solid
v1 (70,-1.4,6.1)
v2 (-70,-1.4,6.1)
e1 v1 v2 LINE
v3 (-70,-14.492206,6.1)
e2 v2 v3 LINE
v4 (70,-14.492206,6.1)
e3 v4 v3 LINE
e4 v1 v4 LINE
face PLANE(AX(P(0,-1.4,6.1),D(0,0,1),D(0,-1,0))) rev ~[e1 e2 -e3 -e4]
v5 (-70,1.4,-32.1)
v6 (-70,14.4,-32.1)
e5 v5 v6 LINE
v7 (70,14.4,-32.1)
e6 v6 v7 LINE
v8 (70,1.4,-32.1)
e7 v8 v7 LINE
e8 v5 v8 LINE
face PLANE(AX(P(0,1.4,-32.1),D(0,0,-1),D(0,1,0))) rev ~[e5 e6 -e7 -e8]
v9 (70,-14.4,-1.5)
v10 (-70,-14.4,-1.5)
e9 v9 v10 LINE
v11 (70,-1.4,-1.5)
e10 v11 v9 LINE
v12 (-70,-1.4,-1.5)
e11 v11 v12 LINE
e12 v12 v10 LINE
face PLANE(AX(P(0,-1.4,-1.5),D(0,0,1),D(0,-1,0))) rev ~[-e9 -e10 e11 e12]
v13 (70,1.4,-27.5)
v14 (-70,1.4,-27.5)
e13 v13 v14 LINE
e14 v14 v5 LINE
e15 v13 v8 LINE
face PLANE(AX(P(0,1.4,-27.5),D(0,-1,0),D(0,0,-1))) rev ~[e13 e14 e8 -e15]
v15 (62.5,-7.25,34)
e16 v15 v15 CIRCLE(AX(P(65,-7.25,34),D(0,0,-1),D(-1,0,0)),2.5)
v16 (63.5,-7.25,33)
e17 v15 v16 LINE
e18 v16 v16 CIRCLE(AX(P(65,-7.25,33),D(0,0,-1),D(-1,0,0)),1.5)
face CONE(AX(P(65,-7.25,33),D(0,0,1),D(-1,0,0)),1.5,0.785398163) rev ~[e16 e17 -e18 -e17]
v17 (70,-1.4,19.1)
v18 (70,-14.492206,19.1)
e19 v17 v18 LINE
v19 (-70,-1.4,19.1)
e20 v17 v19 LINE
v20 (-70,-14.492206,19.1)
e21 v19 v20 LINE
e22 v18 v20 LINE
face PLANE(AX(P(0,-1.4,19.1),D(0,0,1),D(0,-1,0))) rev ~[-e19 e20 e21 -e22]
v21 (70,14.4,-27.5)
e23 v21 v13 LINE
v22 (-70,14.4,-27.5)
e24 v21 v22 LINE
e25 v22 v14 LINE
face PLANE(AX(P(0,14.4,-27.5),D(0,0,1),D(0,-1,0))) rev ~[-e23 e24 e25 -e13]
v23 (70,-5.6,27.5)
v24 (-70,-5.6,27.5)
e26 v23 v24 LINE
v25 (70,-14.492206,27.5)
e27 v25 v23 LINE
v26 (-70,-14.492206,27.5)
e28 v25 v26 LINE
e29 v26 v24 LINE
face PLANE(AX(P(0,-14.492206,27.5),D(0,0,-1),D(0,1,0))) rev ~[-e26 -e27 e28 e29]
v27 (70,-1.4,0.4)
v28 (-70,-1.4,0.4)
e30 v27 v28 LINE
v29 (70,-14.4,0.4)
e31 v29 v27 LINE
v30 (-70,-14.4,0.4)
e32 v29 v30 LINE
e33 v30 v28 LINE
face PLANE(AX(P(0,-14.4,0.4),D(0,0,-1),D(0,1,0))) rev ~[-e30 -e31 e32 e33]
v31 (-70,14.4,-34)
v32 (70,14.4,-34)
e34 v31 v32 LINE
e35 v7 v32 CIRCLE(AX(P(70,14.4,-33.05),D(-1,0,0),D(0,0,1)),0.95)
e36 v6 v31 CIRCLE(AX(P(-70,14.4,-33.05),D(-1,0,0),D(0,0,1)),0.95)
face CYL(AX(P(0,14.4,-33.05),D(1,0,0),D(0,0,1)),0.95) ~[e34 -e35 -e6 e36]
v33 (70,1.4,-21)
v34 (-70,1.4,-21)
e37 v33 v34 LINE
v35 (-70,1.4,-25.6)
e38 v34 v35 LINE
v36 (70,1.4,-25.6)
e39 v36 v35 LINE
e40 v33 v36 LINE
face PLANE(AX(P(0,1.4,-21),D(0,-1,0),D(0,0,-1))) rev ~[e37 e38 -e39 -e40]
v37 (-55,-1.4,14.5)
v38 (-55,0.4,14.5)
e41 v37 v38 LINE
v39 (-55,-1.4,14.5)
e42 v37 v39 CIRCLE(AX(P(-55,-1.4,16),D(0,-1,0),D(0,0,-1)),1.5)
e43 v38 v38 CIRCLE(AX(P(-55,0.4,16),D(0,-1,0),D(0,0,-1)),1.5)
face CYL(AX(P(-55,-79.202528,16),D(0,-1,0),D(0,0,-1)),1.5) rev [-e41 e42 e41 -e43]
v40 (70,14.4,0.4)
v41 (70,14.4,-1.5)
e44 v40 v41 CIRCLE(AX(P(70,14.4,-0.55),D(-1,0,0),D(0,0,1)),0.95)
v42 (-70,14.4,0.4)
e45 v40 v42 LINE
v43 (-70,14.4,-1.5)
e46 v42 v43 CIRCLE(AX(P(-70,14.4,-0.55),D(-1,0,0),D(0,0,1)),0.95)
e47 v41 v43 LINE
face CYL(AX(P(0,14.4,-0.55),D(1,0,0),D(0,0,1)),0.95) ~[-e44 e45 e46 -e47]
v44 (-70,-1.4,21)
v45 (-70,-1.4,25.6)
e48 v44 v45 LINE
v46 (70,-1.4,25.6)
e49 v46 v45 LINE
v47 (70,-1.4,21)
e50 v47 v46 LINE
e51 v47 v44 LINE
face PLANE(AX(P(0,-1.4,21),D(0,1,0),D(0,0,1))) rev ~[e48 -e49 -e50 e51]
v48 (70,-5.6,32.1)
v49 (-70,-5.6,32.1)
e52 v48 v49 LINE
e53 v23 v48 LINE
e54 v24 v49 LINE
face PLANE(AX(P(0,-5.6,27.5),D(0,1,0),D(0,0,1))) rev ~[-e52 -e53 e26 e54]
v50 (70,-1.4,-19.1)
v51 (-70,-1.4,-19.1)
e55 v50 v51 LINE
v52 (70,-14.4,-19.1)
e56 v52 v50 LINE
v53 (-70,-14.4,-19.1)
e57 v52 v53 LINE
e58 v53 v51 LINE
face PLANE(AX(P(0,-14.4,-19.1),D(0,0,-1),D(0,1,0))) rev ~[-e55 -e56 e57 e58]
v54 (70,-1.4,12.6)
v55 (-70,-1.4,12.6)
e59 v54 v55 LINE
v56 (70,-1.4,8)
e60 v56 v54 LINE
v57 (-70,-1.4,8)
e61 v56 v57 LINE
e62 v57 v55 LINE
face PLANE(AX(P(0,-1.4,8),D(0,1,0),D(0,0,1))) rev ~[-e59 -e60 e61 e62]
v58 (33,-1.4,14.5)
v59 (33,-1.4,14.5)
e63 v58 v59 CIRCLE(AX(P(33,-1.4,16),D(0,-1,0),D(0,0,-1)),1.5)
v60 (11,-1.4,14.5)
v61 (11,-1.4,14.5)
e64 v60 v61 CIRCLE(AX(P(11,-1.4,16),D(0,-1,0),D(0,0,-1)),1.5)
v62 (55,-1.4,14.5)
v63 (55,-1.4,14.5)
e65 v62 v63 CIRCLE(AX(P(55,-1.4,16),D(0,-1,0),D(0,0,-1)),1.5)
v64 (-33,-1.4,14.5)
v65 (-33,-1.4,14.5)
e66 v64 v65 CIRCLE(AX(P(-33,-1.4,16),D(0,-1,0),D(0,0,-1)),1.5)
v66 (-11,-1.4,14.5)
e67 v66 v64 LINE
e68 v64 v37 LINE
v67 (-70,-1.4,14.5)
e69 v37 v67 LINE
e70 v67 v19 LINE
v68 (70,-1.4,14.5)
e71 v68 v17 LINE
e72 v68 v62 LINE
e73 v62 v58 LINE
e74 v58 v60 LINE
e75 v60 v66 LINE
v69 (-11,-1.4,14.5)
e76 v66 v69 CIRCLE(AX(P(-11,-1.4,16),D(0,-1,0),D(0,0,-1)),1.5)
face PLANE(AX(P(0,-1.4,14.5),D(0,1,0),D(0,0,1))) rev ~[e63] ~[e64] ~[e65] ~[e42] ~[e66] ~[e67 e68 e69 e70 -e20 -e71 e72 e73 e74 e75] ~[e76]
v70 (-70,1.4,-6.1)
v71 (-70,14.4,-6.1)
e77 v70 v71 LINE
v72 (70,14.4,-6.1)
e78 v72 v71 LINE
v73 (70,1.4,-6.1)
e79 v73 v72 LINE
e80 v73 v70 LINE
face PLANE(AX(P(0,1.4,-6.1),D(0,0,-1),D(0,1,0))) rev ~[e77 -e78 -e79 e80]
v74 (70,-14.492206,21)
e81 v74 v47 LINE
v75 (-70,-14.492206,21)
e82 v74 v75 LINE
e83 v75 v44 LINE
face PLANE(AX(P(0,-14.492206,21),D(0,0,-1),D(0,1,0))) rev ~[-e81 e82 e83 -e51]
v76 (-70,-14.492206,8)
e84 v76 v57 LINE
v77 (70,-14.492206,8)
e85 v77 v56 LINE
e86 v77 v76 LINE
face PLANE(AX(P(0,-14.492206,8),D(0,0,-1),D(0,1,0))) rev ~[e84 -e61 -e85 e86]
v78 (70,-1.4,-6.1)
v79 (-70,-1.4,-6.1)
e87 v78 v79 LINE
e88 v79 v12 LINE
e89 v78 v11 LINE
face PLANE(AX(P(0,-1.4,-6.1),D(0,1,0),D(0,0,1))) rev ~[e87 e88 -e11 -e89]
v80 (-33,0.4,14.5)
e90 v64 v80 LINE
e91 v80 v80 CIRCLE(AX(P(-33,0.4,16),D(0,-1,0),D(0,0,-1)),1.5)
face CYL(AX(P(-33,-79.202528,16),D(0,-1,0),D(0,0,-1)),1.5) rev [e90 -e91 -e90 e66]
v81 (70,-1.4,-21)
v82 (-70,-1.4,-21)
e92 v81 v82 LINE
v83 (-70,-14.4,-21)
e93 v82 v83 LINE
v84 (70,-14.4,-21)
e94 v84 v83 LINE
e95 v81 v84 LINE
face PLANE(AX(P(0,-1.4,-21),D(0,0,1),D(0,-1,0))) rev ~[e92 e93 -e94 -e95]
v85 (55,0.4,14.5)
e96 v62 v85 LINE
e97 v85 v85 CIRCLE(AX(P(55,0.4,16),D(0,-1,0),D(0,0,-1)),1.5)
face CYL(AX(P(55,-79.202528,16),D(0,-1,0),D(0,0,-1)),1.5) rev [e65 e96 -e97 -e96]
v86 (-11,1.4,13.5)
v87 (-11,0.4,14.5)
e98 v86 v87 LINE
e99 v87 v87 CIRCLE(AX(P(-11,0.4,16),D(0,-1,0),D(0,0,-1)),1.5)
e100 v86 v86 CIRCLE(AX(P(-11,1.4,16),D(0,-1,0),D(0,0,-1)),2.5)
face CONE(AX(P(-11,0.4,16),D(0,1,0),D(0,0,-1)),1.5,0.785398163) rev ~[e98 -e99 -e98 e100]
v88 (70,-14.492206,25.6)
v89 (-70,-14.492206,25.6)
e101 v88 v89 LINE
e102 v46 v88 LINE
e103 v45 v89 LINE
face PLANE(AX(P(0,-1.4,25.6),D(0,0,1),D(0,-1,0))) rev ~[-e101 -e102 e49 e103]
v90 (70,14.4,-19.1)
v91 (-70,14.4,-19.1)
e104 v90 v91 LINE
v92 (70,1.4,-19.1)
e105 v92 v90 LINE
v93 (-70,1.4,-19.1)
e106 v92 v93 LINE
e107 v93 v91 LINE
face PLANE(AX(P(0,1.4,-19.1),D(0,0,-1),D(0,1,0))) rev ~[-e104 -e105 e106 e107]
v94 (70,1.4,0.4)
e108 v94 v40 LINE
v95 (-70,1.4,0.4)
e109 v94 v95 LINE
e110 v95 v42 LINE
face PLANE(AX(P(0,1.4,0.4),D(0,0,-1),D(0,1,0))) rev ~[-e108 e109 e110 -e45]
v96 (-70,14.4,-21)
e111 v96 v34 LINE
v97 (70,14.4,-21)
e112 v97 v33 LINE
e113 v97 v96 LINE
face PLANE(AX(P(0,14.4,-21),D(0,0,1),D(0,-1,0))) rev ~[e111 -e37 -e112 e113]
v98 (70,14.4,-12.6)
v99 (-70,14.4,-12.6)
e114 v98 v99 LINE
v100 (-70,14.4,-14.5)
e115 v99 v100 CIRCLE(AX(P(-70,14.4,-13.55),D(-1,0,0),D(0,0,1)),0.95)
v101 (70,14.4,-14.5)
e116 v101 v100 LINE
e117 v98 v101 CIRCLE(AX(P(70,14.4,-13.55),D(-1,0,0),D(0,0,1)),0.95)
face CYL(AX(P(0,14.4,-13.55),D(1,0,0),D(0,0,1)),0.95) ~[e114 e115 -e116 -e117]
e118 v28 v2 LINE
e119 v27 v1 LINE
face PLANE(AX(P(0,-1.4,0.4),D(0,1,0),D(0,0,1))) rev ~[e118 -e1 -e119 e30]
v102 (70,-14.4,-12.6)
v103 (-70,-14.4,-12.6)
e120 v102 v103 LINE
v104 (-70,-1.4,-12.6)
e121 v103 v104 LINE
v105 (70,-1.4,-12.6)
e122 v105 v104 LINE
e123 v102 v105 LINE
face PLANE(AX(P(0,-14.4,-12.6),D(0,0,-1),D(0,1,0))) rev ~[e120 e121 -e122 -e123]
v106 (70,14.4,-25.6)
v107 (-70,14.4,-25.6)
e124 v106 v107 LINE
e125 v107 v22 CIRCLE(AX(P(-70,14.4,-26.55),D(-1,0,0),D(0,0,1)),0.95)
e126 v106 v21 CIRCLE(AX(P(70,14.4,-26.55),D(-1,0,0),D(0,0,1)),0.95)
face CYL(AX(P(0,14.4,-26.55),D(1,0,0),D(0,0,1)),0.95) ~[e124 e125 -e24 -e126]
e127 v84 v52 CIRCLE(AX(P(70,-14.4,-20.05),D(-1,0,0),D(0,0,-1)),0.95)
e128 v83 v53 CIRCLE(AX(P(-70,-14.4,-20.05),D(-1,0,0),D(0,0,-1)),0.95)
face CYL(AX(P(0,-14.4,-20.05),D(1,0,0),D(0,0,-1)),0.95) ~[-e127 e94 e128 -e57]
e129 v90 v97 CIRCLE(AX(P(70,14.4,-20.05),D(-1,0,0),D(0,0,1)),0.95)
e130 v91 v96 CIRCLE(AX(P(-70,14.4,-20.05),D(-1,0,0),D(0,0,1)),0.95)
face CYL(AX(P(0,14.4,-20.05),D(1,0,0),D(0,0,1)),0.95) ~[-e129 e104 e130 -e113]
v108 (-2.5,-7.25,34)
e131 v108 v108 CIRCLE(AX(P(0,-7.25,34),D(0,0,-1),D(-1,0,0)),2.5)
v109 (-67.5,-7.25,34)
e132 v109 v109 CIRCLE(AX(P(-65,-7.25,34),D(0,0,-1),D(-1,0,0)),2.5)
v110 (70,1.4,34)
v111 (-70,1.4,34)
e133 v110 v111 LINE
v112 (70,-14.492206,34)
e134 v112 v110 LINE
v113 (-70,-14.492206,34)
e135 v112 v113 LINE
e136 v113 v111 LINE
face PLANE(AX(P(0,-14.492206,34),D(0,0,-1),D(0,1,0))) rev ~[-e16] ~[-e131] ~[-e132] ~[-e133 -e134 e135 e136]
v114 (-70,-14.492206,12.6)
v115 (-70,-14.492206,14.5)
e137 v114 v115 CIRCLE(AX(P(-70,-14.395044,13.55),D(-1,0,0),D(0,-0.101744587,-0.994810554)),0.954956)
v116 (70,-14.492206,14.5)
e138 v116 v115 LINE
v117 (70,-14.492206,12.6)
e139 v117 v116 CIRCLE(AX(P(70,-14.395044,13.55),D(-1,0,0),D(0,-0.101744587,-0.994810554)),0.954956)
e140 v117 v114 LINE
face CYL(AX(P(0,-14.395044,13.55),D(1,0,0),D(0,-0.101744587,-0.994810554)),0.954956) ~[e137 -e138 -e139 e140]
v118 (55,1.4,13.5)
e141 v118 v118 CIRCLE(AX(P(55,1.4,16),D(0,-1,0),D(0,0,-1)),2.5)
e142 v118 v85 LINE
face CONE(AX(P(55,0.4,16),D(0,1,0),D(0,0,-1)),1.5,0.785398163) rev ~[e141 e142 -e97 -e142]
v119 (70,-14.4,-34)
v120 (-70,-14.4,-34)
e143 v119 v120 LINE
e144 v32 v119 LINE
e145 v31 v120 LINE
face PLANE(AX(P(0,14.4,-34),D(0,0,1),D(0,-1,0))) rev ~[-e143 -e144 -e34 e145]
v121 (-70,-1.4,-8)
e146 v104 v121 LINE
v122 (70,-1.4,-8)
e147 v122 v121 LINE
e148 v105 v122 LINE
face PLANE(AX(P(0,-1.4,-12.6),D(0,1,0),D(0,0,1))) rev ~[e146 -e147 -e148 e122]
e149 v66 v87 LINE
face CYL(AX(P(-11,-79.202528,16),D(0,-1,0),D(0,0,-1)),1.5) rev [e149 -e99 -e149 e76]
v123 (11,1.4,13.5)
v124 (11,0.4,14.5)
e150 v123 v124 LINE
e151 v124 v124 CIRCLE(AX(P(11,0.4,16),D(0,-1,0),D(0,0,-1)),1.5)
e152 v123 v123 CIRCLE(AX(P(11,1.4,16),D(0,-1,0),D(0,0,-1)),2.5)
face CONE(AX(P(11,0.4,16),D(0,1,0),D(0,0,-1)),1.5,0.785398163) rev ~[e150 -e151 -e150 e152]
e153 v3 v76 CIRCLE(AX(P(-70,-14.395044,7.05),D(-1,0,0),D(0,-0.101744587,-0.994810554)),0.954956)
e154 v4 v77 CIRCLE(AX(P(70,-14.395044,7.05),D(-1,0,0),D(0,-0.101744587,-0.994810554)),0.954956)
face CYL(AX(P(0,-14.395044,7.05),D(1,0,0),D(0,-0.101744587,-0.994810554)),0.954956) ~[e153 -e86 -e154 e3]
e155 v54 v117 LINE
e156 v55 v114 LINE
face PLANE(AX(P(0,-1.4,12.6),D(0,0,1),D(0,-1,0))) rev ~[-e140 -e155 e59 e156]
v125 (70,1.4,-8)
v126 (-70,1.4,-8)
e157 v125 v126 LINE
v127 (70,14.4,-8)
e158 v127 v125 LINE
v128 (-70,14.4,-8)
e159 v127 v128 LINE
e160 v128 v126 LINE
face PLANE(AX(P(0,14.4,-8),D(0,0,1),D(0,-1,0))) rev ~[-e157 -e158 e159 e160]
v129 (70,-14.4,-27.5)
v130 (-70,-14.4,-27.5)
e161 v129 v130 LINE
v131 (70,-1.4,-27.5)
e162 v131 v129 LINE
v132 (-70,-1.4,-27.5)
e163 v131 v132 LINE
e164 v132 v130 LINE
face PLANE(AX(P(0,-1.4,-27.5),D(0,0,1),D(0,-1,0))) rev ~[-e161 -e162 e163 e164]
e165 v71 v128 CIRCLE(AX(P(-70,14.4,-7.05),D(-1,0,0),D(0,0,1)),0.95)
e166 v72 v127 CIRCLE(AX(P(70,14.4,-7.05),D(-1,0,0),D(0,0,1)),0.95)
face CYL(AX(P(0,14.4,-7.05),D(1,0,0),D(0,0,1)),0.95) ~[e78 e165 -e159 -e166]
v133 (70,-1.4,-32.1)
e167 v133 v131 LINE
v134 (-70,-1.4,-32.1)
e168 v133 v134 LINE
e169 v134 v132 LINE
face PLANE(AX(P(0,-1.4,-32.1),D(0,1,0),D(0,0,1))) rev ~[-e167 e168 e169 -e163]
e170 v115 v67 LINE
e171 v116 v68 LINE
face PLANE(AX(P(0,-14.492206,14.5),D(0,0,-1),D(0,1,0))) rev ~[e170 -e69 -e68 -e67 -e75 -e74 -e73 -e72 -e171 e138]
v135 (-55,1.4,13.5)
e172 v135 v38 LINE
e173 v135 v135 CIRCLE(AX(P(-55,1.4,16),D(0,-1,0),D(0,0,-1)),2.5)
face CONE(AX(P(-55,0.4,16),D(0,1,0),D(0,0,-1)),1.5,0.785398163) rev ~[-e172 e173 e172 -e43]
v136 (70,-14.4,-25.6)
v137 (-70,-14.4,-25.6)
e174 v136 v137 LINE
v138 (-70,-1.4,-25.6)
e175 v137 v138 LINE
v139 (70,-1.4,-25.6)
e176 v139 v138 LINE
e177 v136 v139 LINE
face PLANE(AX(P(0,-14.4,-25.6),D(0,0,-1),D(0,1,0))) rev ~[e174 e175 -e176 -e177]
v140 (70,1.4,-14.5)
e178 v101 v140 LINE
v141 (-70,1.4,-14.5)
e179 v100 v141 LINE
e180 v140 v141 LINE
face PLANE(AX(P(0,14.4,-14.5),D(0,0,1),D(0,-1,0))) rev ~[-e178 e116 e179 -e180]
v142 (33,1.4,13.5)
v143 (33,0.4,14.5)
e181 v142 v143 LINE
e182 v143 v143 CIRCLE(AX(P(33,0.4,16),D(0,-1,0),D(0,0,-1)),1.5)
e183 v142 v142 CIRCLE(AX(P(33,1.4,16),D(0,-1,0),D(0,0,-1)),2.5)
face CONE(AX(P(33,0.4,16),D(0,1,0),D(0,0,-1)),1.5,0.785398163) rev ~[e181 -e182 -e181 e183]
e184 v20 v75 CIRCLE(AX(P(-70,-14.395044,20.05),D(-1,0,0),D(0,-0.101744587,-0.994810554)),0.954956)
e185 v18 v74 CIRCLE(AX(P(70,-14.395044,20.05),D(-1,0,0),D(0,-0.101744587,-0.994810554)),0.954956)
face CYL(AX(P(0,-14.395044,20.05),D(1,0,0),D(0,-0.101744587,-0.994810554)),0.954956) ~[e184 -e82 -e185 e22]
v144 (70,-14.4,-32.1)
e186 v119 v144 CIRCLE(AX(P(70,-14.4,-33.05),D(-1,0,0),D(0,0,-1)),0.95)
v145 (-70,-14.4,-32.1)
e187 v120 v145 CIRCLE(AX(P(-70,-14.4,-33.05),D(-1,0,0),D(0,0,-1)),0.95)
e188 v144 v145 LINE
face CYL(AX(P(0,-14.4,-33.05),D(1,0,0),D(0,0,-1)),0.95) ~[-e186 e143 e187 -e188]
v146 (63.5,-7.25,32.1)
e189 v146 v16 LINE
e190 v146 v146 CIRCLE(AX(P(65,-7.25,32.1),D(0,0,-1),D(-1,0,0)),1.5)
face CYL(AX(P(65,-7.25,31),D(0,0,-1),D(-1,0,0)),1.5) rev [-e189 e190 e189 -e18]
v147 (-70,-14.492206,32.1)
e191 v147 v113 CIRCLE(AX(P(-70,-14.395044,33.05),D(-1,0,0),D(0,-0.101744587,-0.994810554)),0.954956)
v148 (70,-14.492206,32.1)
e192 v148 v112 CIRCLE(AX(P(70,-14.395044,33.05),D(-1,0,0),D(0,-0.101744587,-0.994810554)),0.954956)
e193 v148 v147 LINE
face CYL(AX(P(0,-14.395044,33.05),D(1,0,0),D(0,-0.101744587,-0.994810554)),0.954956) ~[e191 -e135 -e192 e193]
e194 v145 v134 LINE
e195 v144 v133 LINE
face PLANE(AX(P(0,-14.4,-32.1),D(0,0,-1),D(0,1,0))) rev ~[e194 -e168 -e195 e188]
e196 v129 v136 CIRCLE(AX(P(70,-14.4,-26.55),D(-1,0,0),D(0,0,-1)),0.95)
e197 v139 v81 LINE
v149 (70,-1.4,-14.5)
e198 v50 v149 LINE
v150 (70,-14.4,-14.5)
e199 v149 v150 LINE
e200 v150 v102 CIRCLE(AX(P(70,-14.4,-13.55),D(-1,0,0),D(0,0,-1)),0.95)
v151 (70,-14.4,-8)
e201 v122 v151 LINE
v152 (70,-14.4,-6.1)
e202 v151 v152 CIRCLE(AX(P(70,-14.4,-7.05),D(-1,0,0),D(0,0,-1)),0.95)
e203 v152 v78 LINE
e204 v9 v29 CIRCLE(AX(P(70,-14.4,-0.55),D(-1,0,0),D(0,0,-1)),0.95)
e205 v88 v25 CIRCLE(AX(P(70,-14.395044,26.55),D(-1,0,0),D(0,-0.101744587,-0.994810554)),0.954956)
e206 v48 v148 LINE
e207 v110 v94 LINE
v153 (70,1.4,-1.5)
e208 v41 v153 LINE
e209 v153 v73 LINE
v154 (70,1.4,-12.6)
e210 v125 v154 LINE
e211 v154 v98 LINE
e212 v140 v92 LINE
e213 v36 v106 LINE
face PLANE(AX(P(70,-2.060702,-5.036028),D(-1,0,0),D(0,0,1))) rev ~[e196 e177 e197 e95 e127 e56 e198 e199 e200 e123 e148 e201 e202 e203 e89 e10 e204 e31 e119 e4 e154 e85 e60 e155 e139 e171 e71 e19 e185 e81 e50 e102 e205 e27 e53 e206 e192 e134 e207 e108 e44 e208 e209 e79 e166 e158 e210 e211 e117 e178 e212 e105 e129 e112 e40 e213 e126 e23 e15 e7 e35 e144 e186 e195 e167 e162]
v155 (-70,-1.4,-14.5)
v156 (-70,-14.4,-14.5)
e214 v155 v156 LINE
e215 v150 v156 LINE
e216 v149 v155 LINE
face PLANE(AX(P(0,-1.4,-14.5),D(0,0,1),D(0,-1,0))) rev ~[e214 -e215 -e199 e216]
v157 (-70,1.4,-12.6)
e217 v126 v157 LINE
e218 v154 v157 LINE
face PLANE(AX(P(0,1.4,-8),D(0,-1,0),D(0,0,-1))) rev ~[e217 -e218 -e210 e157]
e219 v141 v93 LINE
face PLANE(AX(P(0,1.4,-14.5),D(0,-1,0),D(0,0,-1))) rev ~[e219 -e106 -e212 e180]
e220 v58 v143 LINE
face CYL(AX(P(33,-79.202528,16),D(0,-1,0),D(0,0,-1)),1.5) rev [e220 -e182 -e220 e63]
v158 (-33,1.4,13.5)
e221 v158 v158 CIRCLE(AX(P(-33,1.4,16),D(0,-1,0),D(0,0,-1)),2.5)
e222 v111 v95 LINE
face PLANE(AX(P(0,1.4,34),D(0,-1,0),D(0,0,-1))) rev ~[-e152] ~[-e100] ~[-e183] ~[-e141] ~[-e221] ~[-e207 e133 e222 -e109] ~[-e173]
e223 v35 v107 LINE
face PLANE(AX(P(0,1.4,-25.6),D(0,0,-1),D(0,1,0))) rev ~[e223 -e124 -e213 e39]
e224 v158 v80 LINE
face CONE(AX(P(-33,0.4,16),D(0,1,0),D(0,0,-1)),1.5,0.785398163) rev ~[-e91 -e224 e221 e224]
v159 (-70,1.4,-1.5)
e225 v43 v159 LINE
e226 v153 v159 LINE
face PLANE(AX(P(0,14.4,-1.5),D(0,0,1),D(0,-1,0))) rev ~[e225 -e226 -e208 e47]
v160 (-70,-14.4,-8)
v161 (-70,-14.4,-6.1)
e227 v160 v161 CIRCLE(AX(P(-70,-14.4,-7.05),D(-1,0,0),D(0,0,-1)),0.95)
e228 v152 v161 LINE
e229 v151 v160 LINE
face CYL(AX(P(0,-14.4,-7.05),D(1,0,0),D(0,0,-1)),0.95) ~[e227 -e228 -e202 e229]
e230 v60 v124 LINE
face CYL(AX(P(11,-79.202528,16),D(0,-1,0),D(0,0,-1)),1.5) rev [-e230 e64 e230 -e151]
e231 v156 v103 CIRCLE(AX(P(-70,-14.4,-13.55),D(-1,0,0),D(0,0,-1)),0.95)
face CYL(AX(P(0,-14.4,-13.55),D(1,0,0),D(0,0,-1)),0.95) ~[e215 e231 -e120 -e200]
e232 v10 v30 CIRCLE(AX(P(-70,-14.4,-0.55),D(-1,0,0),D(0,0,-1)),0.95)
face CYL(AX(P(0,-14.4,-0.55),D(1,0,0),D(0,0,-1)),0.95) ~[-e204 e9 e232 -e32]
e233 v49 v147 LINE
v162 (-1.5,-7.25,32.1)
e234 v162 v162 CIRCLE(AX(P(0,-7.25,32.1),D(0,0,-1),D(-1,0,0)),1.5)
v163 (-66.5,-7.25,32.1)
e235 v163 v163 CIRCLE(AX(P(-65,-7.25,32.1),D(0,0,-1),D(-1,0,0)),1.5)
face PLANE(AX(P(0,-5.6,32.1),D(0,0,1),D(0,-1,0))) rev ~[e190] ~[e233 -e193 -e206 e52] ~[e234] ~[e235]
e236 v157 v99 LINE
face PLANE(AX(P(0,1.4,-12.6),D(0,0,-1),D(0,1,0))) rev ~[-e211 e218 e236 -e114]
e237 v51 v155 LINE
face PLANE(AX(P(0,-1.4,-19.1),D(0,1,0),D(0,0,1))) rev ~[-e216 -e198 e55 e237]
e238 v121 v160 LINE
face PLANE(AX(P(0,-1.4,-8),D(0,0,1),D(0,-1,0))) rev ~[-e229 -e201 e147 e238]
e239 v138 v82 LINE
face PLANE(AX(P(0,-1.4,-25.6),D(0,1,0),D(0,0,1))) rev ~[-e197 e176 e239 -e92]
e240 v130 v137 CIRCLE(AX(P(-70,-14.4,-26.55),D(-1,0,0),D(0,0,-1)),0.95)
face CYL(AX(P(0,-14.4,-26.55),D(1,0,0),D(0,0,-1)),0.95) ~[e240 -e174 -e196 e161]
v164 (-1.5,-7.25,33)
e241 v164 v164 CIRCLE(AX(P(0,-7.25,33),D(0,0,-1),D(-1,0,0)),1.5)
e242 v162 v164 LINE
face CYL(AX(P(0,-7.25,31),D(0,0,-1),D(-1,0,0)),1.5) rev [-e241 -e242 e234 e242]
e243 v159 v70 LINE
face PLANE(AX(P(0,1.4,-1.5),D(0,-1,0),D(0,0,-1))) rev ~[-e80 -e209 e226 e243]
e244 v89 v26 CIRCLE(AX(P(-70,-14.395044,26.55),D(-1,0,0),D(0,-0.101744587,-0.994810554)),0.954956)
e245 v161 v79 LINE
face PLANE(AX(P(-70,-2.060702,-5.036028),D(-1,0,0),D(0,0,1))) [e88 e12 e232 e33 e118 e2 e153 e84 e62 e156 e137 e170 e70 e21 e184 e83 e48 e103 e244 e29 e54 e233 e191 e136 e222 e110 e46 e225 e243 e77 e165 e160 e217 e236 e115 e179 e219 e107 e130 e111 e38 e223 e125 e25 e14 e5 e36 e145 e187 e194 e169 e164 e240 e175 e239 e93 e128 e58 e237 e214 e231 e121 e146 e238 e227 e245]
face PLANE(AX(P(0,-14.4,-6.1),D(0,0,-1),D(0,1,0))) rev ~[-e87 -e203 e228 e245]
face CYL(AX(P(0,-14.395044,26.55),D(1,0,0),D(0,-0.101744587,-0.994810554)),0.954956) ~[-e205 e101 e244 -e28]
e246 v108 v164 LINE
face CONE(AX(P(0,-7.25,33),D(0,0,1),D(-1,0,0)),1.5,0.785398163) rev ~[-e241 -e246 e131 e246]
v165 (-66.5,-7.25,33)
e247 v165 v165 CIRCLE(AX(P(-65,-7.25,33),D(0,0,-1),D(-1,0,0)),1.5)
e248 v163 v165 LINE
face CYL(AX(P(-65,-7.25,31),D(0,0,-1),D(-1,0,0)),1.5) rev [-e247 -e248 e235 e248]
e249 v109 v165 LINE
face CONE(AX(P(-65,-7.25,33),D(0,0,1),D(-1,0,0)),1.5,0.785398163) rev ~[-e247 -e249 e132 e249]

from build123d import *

# Parameters (mm, degrees)
BOSS_EXTRUDE1_DEPTH     = 70
CUT_EXTRUDE1_DEPTH      = 80.602528226
CUT_EXTRUDE1_DEPTH_BACK = 80.602528226
SKETCH2_R               = 1.5
CUT_EXTRUDE2_DEPTH      = 99.790801697
CUT_EXTRUDE2_DEPTH_BACK = 3
SKETCH3_R               = 1.5
CHAMFER1_SIZE           = 1


with BuildPart() as part:
    # Sketch1 → Boss-Extrude1 (new, symmetric)
    with BuildSketch(Plane(origin=(0, 0, 0), x_dir=(0, 0, -1), z_dir=(1, 0, 0))):
        with BuildLine():
            Line((34, 14.4), (34, -14.4))
            ThreePointArc((34, -14.4), (33.05, -15.35), (32.1, -14.4))
            Line((32.1, -14.4), (32.1, -1.4))
            Line((32.1, -1.4), (27.5, -1.4))
            Line((27.5, -1.4), (27.5, -14.4))
            ThreePointArc((27.5, -14.4), (26.55, -15.35), (25.6, -14.4))
            Line((25.6, -14.4), (25.6, -1.4))
            Line((25.6, -1.4), (21, -1.4))
            Line((21, -1.4), (21, -14.4))
            ThreePointArc((21, -14.4), (20.05, -15.35), (19.1, -14.4))
            Line((19.1, -14.4), (19.1, -1.4))
            Line((19.1, -1.4), (14.5, -1.4))
            Line((14.5, -1.4), (14.5, -14.4))
            ThreePointArc((14.5, -14.4), (13.55, -15.35), (12.6, -14.4))
            Line((12.6, -14.4), (12.6, -1.4))
            Line((12.6, -1.4), (8, -1.4))
            Line((8, -1.4), (8, -14.4))
            ThreePointArc((8, -14.4), (7.05, -15.35), (6.1, -14.4))
            Line((6.1, -14.4), (6.1, -1.4))
            Line((6.1, -1.4), (1.5, -1.4))
            Line((1.5, -1.4), (1.5, -14.4))
            ThreePointArc((1.5, -14.4), (0.55, -15.35), (-0.4, -14.4))
            Line((-0.4, -14.4), (-0.4, -1.4))
            Line((-0.4, -1.4), (-6.1, -1.4))
            Line((-6.1, -1.4), (-6.1, -14.492205882))
            ThreePointArc((-6.1, -14.492205882), (-7.05, -15.35), (-8, -14.492205882))
            Line((-8, -14.492205882), (-8, -1.4))
            Line((-8, -1.4), (-12.6, -1.4))
            Line((-12.6, -1.4), (-12.6, -14.492205882))
            ThreePointArc((-12.6, -14.492205882), (-13.55, -15.35), (-14.5, -14.492205882))
            Line((-14.5, -14.492205882), (-14.5, -1.4))
            Line((-14.5, -1.4), (-19.1, -1.4))
            Line((-19.1, -1.4), (-19.1, -14.492205882))
            ThreePointArc((-19.1, -14.492205882), (-20.05, -15.35), (-21, -14.492205882))
            Line((-21, -14.492205882), (-21, -1.4))
            Line((-21, -1.4), (-25.6, -1.4))
            Line((-25.6, -1.4), (-25.6, -14.492205882))
            ThreePointArc((-25.6, -14.492205882), (-26.55, -15.35), (-27.5, -14.492205882))
            Line((-27.5, -14.492205882), (-27.5, -5.6))
            Line((-27.5, -5.6), (-32.1, -5.6))
            Line((-32.1, -5.6), (-32.1, -14.492205882))
            ThreePointArc((-32.1, -14.492205882), (-33.05, -15.35), (-34, -14.492205882))
            Line((-34, -14.492205882), (-34, 1.4))
            Line((-34, 1.4), (-0.4, 1.4))
            Line((-0.4, 1.4), (-0.4, 14.4))
            ThreePointArc((-0.4, 14.4), (0.55, 15.35), (1.5, 14.4))
            Line((1.5, 14.4), (1.5, 1.4))
            Line((1.5, 1.4), (6.1, 1.4))
            Line((6.1, 1.4), (6.1, 14.4))
            ThreePointArc((6.1, 14.4), (7.05, 15.35), (8, 14.4))
            Line((8, 14.4), (8, 1.4))
            Line((8, 1.4), (12.6, 1.4))
            Line((12.6, 1.4), (12.6, 14.4))
            ThreePointArc((12.6, 14.4), (13.55, 15.35), (14.5, 14.4))
            Line((14.5, 14.4), (14.5, 1.4))
            Line((14.5, 1.4), (19.1, 1.4))
            Line((19.1, 1.4), (19.1, 14.4))
            ThreePointArc((19.1, 14.4), (20.05, 15.35), (21, 14.4))
            Line((21, 14.4), (21, 1.4))
            Line((21, 1.4), (25.6, 1.4))
            Line((25.6, 1.4), (25.6, 14.4))
            ThreePointArc((25.6, 14.4), (26.55, 15.35), (27.5, 14.4))
            Line((27.5, 14.4), (27.5, 1.4))
            Line((27.5, 1.4), (32.1, 1.4))
            Line((32.1, 1.4), (32.1, 14.4))
            ThreePointArc((32.1, 14.4), (33.05, 15.35), (34, 14.4))
        make_face()
    extrude(amount=BOSS_EXTRUDE1_DEPTH, both=True)

    # Sketch2 → Cut-Extrude1 (cut, two sides: drawn at the far end of the back side and taken through both)
    with BuildSketch(Plane(origin=(0, 1.4, 0), x_dir=(1, 0, 0), z_dir=(0, 1, 0)).offset(-CUT_EXTRUDE1_DEPTH_BACK)):
        with Locations(Location((55, -16, 0), (0, 0, 90))):
            Circle(SKETCH2_R)
        with Locations(Location((33, -16, 0), (0, 0, 90))):
            Circle(SKETCH2_R)
        with Locations(Location((11, -16, 0), (0, 0, 90))):
            Circle(SKETCH2_R)
        with Locations(Location((-55, -16, 0), (0, 0, 90))):
            Circle(SKETCH2_R)
        with Locations(Location((-33, -16, 0), (0, 0, 90))):
            Circle(SKETCH2_R)
        with Locations(Location((-11, -16, 0), (0, 0, 90))):
            Circle(SKETCH2_R)
    extrude(amount=CUT_EXTRUDE1_DEPTH + CUT_EXTRUDE1_DEPTH_BACK, mode=Mode.SUBTRACT)

    # Sketch3 → Cut-Extrude2 (cut, two sides: drawn at the far end of the back side and taken through both)
    with BuildSketch(Plane.XY.offset(34).offset(-CUT_EXTRUDE2_DEPTH_BACK)):
        with Locations(Location((65, -7.25, 0), (0, 0, 180))):
            Circle(SKETCH3_R)
        with Locations(Location((0, -7.25, 0), (0, 0, 180))):
            Circle(SKETCH3_R)
        with Locations(Location((-65, -7.25, 0), (0, 0, 180))):
            Circle(SKETCH3_R)
    extrude(amount=CUT_EXTRUDE2_DEPTH + CUT_EXTRUDE2_DEPTH_BACK, mode=Mode.SUBTRACT)

    # Chamfer1
    chamfer1_edges = [part.edges().sort_by_distance(p)[0] for p in [
        (55, 1.4, 17.5),
        (-11, 1.4, 17.5),
        (-33, 1.4, 17.5),
        (-55, 1.4, 17.5),
        (11, 1.4, 17.5),
        (33, 1.4, 17.5),
        (66.5, -7.25, 34),
        (1.5, -7.25, 34),
        (-63.5, -7.25, 34),
    ]]
    chamfer(chamfer1_edges, length=CHAMFER1_SIZE)


solid = part.part
